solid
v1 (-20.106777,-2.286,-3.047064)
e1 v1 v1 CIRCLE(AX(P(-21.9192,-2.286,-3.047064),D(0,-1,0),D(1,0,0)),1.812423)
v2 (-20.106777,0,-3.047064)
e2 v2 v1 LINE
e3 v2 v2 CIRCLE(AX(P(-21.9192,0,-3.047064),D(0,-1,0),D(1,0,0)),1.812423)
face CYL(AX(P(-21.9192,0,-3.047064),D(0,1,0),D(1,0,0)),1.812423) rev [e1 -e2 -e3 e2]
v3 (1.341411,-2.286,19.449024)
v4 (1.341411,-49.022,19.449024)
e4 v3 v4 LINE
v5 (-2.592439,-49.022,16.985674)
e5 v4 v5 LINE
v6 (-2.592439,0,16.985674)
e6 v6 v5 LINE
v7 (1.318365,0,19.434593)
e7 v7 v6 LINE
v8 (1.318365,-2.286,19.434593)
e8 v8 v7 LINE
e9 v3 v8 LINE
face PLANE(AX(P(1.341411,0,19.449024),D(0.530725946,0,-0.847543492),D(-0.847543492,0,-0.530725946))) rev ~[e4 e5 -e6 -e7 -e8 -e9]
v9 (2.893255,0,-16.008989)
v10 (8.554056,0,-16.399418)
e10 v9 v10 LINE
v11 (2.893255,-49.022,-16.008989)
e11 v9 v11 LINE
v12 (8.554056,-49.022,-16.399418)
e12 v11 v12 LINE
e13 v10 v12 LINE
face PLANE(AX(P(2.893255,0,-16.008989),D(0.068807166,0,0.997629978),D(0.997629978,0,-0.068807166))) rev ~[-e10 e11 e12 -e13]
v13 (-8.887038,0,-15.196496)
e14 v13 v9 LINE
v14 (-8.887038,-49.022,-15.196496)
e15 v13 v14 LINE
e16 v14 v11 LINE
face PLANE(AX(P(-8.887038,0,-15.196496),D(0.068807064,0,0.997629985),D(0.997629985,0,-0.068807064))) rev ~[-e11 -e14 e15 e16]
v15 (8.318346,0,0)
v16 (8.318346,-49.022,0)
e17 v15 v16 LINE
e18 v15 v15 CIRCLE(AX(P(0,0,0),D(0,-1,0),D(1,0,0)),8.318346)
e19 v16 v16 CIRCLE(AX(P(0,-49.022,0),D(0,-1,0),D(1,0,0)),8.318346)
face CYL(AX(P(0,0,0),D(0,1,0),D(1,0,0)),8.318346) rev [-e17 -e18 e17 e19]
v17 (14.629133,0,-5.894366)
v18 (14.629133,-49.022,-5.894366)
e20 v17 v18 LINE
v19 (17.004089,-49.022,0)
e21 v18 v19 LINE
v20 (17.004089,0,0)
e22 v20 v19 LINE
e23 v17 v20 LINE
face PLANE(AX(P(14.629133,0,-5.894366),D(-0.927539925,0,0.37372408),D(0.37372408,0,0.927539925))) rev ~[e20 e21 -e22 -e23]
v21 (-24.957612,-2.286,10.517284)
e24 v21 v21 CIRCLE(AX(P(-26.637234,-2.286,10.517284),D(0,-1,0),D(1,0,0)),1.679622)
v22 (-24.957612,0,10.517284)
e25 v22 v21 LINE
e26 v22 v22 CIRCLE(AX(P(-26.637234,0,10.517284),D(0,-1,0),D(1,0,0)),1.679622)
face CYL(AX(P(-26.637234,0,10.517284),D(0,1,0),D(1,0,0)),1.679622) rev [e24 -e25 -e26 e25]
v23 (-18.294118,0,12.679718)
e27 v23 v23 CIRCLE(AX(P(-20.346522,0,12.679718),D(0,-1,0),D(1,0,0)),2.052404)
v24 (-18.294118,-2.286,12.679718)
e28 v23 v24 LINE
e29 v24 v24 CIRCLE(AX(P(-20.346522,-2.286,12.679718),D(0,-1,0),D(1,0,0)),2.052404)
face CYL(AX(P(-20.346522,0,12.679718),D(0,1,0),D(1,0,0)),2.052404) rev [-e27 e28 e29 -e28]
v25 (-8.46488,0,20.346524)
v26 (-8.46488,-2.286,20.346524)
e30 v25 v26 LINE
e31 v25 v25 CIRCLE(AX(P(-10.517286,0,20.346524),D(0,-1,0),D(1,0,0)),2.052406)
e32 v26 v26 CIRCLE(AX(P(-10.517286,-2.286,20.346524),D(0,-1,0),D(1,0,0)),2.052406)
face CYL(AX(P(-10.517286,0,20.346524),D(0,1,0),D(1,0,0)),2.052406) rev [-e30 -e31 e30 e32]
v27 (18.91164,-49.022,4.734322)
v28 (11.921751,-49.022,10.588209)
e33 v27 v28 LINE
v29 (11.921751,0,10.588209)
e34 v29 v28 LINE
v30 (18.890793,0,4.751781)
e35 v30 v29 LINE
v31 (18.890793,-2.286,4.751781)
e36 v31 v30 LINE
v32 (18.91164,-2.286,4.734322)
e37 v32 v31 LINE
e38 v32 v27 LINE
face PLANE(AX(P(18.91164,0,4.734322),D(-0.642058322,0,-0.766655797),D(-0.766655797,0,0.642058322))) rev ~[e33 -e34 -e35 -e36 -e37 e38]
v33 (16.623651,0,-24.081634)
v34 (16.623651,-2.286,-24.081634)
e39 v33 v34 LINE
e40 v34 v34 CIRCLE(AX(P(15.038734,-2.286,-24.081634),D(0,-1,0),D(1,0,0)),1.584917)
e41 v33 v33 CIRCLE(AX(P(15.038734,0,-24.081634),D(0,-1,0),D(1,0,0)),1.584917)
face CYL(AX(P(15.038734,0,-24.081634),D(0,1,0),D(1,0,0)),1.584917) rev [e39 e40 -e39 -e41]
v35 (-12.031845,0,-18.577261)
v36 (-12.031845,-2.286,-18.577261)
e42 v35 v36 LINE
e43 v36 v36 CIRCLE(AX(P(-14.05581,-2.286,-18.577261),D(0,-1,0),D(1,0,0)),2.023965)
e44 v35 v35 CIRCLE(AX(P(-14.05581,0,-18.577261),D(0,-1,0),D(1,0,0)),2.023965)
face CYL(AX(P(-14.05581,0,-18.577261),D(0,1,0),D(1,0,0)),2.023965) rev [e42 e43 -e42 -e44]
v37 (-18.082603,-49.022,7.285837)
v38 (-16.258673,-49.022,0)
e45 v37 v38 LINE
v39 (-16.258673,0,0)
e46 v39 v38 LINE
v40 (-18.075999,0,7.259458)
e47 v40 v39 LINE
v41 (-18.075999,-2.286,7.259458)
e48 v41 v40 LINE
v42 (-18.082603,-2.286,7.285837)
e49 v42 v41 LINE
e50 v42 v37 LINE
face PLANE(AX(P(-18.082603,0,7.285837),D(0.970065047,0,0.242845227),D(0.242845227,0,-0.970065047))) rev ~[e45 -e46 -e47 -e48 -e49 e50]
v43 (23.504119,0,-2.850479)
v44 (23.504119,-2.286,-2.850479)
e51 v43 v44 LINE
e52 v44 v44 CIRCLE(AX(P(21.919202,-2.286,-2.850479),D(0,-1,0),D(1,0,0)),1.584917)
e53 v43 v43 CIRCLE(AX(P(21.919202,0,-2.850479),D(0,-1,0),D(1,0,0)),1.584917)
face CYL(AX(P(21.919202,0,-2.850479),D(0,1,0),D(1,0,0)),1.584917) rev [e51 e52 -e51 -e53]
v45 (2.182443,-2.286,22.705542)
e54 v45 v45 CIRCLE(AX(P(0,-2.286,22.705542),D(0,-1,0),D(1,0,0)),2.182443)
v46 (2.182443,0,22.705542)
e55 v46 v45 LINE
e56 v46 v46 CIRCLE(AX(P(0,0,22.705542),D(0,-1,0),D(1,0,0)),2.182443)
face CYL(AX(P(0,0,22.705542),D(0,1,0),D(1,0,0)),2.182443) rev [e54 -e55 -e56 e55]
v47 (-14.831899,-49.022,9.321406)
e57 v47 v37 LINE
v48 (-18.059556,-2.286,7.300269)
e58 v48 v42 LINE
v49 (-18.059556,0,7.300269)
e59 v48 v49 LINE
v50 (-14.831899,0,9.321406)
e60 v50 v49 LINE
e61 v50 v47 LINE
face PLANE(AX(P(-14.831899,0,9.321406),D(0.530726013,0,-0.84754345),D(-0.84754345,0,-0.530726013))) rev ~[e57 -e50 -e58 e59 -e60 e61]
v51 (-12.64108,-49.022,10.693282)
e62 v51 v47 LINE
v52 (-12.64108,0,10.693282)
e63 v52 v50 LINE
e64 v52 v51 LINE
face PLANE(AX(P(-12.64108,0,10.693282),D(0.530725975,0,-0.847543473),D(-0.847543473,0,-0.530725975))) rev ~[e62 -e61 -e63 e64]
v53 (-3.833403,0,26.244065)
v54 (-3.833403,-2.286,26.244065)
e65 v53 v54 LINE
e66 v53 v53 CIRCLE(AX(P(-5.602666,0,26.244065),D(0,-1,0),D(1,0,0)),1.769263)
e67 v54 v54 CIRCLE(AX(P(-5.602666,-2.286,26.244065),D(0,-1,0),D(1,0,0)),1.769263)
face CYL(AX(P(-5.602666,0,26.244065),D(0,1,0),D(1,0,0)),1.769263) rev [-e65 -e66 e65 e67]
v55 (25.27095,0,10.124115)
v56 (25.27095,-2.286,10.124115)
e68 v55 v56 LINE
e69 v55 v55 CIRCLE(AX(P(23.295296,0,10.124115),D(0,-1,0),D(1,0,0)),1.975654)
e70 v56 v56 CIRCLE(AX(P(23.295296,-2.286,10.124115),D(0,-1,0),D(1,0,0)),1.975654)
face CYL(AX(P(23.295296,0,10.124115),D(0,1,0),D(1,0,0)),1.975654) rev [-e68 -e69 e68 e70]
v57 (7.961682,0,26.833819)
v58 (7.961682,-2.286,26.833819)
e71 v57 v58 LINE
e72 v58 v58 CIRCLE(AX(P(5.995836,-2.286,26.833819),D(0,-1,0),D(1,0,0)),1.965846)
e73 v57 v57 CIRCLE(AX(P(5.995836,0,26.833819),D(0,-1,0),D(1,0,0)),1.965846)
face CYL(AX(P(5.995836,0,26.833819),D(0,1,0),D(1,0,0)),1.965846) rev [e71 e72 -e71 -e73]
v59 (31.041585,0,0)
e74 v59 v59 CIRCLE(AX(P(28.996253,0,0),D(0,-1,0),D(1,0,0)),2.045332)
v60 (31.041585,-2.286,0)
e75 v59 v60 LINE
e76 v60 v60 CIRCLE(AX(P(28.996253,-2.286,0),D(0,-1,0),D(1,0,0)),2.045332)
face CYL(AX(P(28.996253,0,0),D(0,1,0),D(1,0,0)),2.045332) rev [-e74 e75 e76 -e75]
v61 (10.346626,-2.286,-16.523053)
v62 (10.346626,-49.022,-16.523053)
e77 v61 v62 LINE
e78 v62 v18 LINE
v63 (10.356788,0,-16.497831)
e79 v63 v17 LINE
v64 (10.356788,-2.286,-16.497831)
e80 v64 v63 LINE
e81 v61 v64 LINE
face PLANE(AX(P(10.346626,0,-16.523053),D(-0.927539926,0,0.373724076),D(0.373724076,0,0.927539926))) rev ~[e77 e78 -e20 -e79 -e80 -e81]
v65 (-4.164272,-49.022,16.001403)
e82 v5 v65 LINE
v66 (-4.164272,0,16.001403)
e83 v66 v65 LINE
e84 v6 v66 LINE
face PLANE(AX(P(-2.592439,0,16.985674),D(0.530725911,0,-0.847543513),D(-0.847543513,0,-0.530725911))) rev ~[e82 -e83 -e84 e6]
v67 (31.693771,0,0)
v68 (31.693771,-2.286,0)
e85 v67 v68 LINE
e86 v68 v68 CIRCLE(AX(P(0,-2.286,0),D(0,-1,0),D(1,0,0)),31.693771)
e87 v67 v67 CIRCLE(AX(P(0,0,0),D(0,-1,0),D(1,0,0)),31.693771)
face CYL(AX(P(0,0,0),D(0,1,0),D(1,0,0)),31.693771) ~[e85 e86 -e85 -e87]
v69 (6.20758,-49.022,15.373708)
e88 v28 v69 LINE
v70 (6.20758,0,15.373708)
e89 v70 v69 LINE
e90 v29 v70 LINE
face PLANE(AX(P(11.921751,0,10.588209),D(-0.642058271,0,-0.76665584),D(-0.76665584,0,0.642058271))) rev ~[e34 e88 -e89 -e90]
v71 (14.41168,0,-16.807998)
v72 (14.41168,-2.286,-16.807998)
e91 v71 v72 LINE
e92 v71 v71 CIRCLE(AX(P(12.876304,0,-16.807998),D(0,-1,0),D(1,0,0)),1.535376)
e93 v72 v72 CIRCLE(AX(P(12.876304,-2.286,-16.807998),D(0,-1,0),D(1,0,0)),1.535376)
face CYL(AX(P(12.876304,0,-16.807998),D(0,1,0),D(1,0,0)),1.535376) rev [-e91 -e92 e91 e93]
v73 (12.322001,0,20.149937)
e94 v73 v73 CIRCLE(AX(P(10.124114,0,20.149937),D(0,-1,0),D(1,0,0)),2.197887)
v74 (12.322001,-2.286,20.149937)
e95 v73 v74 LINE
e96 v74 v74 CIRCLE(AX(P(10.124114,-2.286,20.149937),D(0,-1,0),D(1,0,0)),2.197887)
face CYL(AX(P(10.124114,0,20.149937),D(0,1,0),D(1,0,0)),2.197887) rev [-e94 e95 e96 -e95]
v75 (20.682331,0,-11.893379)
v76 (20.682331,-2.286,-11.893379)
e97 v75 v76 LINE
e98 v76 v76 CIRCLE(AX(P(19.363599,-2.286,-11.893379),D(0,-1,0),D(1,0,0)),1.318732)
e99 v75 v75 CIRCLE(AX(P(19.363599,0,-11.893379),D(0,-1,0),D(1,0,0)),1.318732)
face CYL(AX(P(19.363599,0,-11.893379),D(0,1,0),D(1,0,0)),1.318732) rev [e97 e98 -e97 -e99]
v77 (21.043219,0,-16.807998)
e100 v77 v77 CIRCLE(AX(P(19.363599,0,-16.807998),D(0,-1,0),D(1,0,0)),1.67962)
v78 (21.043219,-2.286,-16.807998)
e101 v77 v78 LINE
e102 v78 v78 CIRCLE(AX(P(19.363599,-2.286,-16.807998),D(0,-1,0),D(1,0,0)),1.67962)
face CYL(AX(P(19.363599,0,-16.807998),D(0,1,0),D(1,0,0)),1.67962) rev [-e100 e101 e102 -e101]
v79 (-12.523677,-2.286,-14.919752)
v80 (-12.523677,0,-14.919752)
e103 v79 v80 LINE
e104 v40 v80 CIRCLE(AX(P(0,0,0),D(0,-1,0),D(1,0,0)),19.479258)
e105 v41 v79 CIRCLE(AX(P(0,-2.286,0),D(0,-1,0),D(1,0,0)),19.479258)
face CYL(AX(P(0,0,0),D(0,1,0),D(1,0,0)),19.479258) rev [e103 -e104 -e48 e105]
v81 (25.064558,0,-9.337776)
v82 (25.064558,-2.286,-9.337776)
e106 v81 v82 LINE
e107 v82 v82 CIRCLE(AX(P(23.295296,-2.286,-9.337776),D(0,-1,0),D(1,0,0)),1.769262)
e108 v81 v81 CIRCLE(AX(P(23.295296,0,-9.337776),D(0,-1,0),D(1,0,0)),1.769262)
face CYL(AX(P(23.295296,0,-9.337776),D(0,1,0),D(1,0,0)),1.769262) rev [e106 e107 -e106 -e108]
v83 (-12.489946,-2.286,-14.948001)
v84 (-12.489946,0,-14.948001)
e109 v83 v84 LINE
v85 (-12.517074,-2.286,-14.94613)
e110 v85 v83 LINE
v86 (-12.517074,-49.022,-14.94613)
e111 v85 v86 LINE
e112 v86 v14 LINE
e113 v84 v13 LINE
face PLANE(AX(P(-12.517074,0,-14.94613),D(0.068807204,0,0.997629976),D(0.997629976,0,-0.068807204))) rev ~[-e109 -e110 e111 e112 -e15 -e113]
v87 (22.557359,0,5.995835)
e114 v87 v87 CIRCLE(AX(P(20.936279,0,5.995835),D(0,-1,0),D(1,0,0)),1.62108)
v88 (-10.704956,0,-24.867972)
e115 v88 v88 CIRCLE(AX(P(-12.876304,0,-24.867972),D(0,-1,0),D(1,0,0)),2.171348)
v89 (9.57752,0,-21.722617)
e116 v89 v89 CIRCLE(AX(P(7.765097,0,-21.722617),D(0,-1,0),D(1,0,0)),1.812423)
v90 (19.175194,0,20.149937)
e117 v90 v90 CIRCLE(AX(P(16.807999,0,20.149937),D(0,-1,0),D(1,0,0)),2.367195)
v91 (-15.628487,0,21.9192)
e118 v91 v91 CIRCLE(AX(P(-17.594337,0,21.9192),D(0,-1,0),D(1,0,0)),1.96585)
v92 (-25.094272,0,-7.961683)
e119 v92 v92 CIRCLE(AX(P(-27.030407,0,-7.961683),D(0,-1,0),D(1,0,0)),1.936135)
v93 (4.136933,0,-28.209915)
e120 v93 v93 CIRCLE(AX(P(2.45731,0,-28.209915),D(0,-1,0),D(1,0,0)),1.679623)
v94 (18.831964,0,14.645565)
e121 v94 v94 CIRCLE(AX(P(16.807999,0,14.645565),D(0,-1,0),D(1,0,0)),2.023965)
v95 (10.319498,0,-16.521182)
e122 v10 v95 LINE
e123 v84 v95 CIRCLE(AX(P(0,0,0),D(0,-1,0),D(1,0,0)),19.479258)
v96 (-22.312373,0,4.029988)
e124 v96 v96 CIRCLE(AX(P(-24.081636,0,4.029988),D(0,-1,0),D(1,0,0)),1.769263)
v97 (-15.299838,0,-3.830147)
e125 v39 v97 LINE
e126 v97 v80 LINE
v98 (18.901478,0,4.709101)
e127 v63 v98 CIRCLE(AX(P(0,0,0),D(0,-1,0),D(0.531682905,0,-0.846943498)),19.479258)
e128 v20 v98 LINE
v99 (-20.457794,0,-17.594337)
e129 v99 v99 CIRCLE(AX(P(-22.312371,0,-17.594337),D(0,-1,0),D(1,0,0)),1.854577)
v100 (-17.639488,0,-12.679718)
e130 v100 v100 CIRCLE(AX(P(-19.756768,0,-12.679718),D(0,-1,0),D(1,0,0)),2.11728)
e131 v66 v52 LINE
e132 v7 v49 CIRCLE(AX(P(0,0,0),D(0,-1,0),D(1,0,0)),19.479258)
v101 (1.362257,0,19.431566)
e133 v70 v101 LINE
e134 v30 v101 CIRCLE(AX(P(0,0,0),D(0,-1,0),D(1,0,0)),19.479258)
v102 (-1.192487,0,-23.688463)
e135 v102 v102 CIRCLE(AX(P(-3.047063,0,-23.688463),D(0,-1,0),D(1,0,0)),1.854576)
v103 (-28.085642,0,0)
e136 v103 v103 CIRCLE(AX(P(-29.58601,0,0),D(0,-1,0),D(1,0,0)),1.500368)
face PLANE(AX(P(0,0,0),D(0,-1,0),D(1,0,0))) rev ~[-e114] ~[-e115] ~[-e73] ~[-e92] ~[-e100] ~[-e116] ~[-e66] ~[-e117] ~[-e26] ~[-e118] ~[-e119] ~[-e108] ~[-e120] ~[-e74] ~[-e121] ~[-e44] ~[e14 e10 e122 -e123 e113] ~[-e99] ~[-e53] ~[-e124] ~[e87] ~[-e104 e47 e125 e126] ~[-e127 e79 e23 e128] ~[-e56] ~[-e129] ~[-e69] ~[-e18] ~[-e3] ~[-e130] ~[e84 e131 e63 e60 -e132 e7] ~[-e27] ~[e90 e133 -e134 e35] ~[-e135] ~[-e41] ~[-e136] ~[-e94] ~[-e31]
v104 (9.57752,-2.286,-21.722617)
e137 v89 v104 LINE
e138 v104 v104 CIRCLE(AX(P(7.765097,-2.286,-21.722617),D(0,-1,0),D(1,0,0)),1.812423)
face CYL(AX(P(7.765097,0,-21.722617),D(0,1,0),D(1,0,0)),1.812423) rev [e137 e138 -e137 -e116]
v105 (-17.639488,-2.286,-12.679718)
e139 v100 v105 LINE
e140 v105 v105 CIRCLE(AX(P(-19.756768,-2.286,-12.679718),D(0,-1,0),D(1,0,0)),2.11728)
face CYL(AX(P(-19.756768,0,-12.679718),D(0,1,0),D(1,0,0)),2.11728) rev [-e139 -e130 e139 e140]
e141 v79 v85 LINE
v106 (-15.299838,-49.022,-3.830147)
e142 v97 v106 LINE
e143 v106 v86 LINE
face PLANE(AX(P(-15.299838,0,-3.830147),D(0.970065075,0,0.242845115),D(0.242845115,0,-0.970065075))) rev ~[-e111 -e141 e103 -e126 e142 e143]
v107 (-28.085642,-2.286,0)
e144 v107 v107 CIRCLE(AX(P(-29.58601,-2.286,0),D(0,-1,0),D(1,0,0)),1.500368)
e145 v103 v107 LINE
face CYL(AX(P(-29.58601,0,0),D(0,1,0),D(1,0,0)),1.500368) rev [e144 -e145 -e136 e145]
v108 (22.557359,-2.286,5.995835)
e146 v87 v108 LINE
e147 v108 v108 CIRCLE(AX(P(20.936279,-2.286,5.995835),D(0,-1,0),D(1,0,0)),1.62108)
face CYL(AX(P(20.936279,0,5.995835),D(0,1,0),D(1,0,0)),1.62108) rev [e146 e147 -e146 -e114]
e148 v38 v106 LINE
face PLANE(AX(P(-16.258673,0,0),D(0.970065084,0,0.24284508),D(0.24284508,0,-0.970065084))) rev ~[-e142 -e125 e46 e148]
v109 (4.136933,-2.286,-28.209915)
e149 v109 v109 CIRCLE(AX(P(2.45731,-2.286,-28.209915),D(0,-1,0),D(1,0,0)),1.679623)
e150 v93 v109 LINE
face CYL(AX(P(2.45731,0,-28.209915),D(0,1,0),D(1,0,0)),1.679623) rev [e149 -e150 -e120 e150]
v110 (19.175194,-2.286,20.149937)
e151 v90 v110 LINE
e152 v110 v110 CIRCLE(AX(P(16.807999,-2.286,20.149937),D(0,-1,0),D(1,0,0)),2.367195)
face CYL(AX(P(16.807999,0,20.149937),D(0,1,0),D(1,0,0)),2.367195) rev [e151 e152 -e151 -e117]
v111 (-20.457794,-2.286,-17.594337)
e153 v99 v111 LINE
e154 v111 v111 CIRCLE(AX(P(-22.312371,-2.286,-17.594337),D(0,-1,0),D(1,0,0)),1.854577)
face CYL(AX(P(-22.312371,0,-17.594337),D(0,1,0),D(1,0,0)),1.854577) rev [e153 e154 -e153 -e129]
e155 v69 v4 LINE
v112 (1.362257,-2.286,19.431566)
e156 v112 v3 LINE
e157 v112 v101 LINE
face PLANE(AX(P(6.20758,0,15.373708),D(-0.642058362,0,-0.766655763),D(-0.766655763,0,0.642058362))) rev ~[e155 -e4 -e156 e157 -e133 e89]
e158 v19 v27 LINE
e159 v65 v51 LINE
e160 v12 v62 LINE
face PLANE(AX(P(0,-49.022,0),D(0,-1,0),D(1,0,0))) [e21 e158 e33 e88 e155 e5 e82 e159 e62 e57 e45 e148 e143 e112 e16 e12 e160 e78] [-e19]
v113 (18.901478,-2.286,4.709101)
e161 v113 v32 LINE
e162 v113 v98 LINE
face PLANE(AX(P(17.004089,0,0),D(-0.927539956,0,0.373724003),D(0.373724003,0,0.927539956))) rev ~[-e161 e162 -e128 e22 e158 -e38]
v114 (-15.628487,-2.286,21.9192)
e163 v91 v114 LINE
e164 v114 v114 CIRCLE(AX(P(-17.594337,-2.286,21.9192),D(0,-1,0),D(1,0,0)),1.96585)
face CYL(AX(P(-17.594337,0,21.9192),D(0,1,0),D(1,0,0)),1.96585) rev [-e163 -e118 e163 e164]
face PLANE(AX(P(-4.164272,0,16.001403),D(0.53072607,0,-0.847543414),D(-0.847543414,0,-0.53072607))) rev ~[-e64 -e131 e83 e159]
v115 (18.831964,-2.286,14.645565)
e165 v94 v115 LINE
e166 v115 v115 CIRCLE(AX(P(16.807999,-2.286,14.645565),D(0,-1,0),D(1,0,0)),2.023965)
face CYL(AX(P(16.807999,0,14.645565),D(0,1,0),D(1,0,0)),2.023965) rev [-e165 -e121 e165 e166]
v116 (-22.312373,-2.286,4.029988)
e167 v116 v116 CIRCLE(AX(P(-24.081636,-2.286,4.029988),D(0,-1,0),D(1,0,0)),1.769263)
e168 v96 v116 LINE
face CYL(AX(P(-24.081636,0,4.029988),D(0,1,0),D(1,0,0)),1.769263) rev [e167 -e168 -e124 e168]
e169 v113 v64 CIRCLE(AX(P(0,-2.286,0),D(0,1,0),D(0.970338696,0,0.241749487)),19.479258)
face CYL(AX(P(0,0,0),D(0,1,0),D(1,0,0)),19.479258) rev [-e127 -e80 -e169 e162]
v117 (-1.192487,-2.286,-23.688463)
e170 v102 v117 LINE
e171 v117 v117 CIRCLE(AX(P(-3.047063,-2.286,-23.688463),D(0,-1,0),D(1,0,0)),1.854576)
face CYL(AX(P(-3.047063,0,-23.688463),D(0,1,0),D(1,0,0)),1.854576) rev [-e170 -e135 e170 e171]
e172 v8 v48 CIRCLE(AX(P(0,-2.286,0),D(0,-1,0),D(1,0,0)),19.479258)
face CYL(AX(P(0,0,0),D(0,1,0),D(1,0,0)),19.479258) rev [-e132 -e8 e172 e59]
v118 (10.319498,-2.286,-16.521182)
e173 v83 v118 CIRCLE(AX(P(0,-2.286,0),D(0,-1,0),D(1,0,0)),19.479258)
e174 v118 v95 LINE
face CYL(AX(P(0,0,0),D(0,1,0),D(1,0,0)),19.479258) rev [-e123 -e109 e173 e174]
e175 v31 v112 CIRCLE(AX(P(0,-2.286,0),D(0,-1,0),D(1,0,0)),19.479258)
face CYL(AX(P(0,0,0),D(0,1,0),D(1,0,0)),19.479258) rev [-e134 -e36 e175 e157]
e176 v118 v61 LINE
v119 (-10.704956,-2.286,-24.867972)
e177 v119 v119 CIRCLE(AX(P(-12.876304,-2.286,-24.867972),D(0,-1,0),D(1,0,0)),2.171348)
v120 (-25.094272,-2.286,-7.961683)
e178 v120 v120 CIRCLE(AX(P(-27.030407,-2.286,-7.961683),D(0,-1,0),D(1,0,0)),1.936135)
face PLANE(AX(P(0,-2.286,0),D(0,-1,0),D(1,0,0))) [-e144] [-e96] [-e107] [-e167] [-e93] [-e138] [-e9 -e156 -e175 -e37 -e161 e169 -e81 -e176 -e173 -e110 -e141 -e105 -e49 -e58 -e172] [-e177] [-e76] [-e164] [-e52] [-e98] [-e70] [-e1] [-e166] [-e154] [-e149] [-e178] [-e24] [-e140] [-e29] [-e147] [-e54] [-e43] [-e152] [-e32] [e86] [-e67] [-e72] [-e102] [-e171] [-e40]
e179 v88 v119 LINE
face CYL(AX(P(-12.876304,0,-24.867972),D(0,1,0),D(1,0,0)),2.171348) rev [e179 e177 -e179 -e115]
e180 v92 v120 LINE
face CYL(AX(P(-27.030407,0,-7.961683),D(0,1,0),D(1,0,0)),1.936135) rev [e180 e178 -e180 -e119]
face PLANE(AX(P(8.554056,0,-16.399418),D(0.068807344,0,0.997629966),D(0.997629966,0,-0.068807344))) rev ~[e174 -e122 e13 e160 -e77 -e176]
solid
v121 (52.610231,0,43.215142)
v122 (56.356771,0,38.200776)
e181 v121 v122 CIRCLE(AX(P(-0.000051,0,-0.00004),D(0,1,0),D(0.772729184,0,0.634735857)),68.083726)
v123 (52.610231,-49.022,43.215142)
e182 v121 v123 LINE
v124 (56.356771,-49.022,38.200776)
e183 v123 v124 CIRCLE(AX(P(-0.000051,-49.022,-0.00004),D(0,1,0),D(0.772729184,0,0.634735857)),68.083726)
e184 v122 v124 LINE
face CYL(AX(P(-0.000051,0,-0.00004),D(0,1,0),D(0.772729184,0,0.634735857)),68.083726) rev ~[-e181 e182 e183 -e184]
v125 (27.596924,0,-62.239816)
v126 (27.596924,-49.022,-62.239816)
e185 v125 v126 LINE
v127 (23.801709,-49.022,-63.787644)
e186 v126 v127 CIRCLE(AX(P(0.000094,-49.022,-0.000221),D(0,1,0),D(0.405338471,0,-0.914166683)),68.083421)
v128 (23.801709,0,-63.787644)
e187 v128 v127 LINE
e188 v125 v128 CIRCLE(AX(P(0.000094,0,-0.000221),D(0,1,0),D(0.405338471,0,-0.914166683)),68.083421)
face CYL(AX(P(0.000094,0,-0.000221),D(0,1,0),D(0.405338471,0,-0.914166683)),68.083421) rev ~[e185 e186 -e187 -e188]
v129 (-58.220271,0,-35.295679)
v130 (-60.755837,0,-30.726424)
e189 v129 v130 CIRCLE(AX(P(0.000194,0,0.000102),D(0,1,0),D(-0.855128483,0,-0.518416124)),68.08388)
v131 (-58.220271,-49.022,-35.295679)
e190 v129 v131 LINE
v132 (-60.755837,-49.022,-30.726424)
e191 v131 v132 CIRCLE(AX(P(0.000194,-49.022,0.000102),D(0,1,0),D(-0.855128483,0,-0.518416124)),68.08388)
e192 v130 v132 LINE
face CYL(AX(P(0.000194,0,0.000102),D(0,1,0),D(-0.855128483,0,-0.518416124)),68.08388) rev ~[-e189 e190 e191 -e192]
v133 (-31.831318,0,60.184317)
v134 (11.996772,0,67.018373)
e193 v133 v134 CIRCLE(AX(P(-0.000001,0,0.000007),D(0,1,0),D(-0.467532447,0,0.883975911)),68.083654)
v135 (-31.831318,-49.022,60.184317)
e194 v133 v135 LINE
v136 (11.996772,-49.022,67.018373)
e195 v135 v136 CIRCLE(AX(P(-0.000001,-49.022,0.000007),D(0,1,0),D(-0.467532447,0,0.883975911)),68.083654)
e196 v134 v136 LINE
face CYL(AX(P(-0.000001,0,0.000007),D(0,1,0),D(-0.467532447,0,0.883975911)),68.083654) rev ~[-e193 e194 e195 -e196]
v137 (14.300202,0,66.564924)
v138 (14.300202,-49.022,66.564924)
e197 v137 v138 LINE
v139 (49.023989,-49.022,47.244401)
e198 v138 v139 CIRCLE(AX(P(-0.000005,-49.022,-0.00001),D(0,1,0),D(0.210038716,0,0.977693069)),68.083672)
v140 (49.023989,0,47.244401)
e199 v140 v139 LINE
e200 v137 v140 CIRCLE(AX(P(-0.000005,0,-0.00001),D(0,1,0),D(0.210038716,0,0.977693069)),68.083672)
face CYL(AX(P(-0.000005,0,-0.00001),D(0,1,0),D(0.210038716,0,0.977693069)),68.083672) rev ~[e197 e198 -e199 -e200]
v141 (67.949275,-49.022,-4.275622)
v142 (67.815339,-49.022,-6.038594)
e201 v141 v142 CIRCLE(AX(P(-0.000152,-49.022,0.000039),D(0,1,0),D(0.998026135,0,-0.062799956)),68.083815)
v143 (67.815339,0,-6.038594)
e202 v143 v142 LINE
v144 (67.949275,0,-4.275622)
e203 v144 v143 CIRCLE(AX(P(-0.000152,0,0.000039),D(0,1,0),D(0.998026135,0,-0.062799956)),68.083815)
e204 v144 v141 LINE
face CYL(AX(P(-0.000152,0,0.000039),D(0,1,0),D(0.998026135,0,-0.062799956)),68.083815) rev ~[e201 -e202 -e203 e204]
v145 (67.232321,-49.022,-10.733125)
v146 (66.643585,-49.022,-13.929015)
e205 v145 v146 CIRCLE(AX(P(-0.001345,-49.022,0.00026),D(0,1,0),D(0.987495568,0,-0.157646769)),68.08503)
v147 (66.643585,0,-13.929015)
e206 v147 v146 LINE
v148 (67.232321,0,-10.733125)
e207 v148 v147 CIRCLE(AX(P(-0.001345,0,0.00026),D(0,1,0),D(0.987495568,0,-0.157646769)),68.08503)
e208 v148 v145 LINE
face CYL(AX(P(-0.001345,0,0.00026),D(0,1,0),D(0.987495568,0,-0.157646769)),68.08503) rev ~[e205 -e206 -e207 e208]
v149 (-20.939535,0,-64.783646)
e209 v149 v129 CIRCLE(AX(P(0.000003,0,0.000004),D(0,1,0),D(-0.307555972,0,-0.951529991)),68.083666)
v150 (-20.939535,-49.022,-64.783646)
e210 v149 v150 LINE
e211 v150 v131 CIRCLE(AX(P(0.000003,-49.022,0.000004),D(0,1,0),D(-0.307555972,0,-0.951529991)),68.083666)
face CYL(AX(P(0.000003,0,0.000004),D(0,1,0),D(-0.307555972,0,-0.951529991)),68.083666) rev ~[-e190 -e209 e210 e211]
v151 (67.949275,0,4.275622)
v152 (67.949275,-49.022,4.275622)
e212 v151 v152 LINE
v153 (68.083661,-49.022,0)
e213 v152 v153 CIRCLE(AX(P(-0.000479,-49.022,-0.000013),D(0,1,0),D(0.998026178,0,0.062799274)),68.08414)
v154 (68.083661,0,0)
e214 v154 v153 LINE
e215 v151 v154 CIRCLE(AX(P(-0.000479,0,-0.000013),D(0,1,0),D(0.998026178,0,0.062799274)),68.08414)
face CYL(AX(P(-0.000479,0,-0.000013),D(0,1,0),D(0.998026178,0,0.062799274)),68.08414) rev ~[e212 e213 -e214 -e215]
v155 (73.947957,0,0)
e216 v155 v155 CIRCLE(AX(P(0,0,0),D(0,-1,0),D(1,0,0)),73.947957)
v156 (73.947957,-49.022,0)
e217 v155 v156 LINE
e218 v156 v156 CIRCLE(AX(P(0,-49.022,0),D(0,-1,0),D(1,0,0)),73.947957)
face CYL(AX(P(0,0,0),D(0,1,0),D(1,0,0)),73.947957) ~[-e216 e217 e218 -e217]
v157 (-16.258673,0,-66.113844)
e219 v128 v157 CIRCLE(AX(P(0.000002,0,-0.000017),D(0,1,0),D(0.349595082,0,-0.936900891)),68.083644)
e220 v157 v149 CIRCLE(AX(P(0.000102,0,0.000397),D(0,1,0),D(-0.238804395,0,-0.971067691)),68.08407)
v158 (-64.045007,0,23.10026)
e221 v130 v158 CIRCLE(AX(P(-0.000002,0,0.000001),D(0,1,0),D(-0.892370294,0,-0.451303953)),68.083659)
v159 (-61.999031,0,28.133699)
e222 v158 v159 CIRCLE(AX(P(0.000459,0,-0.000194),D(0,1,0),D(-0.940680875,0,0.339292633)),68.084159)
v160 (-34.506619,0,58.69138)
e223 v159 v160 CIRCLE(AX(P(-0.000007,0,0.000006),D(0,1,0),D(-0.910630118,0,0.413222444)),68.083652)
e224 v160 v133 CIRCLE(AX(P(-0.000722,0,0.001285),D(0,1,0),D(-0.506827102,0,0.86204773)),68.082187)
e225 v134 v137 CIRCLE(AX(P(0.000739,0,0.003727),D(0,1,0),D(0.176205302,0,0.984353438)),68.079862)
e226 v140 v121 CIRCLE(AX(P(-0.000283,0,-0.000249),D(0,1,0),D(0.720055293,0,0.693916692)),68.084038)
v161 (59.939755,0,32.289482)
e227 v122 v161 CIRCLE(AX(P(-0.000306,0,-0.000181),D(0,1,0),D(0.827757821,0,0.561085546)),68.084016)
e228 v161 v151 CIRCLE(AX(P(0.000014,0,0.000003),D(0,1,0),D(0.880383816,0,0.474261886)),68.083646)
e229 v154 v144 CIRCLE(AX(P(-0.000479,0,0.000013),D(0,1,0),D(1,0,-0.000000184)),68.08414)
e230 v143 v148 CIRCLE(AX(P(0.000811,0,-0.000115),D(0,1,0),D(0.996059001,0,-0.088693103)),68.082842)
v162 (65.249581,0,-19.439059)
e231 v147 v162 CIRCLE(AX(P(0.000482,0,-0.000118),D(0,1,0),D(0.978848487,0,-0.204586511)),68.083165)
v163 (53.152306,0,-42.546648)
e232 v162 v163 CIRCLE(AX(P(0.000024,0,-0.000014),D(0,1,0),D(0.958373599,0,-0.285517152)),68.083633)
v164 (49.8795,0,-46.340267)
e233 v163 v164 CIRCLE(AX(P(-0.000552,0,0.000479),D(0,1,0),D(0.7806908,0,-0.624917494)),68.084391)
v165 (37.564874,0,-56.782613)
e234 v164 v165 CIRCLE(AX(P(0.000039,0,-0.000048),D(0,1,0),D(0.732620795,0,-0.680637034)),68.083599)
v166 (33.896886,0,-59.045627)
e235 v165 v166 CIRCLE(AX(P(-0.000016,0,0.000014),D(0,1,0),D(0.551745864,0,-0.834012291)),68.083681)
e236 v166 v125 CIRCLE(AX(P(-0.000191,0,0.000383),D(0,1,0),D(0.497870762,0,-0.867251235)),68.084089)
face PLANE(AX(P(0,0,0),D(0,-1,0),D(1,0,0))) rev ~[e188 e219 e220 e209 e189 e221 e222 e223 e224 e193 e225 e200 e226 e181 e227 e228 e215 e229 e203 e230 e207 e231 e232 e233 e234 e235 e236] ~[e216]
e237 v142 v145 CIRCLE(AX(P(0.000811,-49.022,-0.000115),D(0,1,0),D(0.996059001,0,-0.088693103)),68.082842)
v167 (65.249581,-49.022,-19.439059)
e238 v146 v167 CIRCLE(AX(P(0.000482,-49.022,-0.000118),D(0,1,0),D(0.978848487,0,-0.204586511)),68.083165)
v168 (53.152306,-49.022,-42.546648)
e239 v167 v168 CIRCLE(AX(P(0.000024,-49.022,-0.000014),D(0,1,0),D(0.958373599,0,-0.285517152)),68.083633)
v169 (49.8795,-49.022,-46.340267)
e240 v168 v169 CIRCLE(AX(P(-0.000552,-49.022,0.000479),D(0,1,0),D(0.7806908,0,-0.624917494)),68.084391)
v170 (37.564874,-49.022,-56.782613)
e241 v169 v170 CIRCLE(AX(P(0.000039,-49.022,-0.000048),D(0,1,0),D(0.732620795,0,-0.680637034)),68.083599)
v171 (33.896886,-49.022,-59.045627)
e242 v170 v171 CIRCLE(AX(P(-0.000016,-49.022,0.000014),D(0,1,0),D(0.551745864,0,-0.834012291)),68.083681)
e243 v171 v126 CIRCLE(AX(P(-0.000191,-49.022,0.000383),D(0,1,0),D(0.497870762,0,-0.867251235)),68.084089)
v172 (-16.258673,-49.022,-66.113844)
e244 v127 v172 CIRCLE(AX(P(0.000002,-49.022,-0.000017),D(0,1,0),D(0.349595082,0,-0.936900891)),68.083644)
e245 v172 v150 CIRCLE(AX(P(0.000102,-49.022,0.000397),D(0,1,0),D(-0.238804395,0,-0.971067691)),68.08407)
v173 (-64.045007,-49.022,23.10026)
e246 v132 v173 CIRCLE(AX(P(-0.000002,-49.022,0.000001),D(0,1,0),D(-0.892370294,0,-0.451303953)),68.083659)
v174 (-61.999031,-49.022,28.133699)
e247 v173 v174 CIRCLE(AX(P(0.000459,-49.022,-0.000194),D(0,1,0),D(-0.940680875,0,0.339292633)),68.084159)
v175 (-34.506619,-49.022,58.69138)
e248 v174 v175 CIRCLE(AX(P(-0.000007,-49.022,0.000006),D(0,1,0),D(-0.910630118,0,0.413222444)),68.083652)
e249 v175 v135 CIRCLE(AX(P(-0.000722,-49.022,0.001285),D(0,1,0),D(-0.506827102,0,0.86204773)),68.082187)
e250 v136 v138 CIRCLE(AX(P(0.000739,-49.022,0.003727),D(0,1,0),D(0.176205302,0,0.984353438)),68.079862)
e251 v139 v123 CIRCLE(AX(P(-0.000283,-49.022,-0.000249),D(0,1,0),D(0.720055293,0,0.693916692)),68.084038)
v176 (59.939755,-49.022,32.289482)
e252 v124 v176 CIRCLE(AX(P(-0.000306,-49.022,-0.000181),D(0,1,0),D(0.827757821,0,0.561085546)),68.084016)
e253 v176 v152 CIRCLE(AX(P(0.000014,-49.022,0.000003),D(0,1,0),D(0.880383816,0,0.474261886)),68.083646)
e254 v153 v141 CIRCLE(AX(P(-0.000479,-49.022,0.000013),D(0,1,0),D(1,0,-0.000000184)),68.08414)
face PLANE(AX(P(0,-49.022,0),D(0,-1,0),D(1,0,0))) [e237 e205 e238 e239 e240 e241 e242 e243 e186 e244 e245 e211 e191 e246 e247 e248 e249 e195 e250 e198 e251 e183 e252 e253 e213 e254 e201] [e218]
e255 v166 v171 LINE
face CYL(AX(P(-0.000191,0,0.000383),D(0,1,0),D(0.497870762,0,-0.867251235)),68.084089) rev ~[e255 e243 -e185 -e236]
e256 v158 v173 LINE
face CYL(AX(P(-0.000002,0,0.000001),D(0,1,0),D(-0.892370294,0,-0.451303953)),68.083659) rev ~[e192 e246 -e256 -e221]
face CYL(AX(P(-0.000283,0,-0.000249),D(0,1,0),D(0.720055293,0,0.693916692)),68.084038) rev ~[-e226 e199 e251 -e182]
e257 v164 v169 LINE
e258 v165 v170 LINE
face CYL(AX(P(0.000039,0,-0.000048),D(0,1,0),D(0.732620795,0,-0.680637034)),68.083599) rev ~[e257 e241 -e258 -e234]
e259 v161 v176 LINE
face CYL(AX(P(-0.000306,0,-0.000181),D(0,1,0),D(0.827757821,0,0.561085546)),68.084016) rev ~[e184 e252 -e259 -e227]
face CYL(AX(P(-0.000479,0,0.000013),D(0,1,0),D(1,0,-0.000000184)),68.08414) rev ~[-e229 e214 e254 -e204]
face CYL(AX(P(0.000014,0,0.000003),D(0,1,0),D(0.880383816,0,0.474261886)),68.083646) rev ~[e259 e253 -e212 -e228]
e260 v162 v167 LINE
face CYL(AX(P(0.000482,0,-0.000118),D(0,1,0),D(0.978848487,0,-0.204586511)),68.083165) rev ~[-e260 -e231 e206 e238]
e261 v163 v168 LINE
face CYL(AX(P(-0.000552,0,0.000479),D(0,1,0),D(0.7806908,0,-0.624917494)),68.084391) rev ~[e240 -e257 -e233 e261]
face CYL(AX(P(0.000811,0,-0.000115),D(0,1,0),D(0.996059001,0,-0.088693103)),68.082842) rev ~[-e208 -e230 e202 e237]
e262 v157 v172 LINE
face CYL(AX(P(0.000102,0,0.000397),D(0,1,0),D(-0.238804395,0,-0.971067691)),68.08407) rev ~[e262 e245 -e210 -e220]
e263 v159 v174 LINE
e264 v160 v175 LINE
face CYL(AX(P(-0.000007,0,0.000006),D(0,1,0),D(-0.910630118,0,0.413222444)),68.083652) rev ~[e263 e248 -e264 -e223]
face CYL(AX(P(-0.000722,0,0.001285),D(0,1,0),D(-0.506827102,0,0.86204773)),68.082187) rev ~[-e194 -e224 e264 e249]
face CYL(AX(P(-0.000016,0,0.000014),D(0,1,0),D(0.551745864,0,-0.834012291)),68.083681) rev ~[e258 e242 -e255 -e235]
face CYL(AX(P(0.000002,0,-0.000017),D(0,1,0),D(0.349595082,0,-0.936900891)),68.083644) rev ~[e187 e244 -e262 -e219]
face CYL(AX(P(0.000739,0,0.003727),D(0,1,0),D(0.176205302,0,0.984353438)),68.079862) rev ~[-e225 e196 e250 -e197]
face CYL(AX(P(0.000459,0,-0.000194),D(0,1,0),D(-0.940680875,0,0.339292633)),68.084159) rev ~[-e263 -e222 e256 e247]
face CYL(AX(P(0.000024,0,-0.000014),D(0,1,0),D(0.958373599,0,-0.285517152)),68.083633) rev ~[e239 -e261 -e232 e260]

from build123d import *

# Parameters (mm, degrees)
F0_R     = 73.947957
F0_R_2   = 8.318346
F1_DEPTH = 49.022
F2_R     = 31.693771
F2_R_2   = 1.854577
F2_R_3   = 2.171348
F2_R_4   = 2.023965
F2_R_5   = 1.854576
F2_R_6   = 1.936135
F2_R_7   = 2.11728
F2_R_8   = 1.812423
F2_R_9   = 1.679623
F2_R_10  = 1.584917
F2_R_11  = 1.535376
F2_R_12  = 1.67962
F2_R_13  = 1.318732
F2_R_14  = 1.769262
F2_R_15  = 1.500368
F2_R_16  = 1.769263
F2_R_17  = 1.679622
F2_R_18  = 2.052404
F2_R_19  = 1.96585
F2_R_20  = 2.052406
F2_R_21  = 19.479258
F2_R_22  = 1.62108
F2_R_23  = 2.045332
F2_R_24  = 1.975654
F2_R_25  = 2.182443
F2_R_26  = 2.197887
F2_R_27  = 1.965846
F2_R_28  = 2.367195
F3_DEPTH = 2.286


with BuildPart() as f1:
    # F0 (on Front) → F1 (new body)
    with BuildSketch(Plane.XZ):
        Circle(F0_R)
        with BuildLine():
            ThreePointArc((67.949275, 4.275622), (68.050056, 2.138867), (68.083661, 0))
            ThreePointArc((68.083661, 0), (68.050056, -2.138867), (67.949275, -4.275622))
            ThreePointArc((67.949275, -4.275622), (67.88803, -5.157543), (67.815339, -6.038594))
            ThreePointArc((67.815339, -6.038594), (67.564616, -8.390925), (67.232321, -10.733125))
            ThreePointArc((67.232321, -10.733125), (66.957023, -12.334583), (66.643585, -13.929015))
            ThreePointArc((66.643585, -13.929015), (66.004106, -16.69859), (65.249581, -19.439059))
            ThreePointArc((65.249581, -19.439059), (60.317841, -31.577571), (53.152306, -42.546648))
            ThreePointArc((53.152306, -42.546648), (51.550811, -44.473573), (49.8795, -46.340267))
            ThreePointArc((49.8795, -46.340267), (44.032832, -51.927783), (37.564874, -56.782613))
            ThreePointArc((37.564874, -56.782613), (35.748791, -57.943152), (33.896886, -59.045627))
            ThreePointArc((33.896886, -59.045627), (30.788356, -60.724476), (27.596924, -62.239816))
            ThreePointArc((27.596924, -62.239816), (25.710967, -63.042296), (23.801709, -63.787644))
            ThreePointArc((23.801709, -63.787644), (3.94679, -67.969168), (-16.258673, -66.113844))
            ThreePointArc((-16.258673, -66.113844), (-18.610992, -65.490578), (-20.939535, -64.783646))
            ThreePointArc((-20.939535, -64.783646), (-42.236877, -53.398793), (-58.220271, -35.295679))
            ThreePointArc((-58.220271, -35.295679), (-59.531908, -33.035387), (-60.755837, -30.726424))
            ThreePointArc((-60.755837, -30.726424), (-67.956903, -4.15262), (-64.045007, 23.10026))
            ThreePointArc((-64.045007, 23.10026), (-63.07225, 25.637397), (-61.999031, 28.133699))
            ThreePointArc((-61.999031, 28.133699), (-50.614011, 45.536873), (-34.506619, 58.69138))
            ThreePointArc((-34.506619, 58.69138), (-33.177367, 59.452899), (-31.831318, 60.184317))
            ThreePointArc((-31.831318, 60.184317), (-10.489442, 67.27077), (11.996772, 67.018373))
            ThreePointArc((11.996772, 67.018373), (13.150442, 66.801578), (14.300202, 66.564924))
            ThreePointArc((14.300202, 66.564924), (33.103005, 59.494335), (49.023989, 47.244401))
            ThreePointArc((49.023989, 47.244401), (50.857029, 45.265301), (52.610231, 43.215142))
            ThreePointArc((52.610231, 43.215142), (54.541157, 40.751038), (56.356771, 38.200776))
            ThreePointArc((56.356771, 38.200776), (58.223331, 35.29063), (59.939755, 32.289482))
            ThreePointArc((59.939755, 32.289482), (65.460638, 18.716031), (67.949275, 4.275622))
        make_face(mode=Mode.SUBTRACT)
        Polygon((14.629133, -5.894366), (17.004089, 0), (18.91164, 4.734322), (11.921751, 10.588209), (6.20758, 15.373708), (1.341411, 19.449024), (-2.592439, 16.985674), (-4.164272, 16.001403), (-12.64108, 10.693282), (-14.831899, 9.321406), (-18.082603, 7.285837), (-16.258673, 0), (-15.299838, -3.830147), (-12.517074, -14.94613), (-8.887038, -15.196496), (2.893255, -16.008989), (8.554056, -16.399418), (10.346626, -16.523053), align=None)
        Circle(F0_R_2, mode=Mode.SUBTRACT)
    extrude(amount=F1_DEPTH)

    # F2 (on Front) → F3 (join)
    with BuildSketch(Plane.XZ):
        Circle(F2_R)
        with Locations((-22.312371, -17.594337)):
            Circle(F2_R_2, mode=Mode.SUBTRACT)
        with Locations((-12.876304, -24.867972)):
            Circle(F2_R_3, mode=Mode.SUBTRACT)
        with Locations((-14.05581, -18.577261)):
            Circle(F2_R_4, mode=Mode.SUBTRACT)
        with Locations((-3.047063, -23.688463)):
            Circle(F2_R_5, mode=Mode.SUBTRACT)
        with Locations((-27.030407, -7.961683)):
            Circle(F2_R_6, mode=Mode.SUBTRACT)
        with Locations((-19.756768, -12.679718)):
            Circle(F2_R_7, mode=Mode.SUBTRACT)
        with Locations((-21.9192, -3.047064)):
            Circle(F2_R_8, mode=Mode.SUBTRACT)
        with Locations((2.45731, -28.209915)):
            Circle(F2_R_9, mode=Mode.SUBTRACT)
        with Locations((15.038734, -24.081634)):
            Circle(F2_R_10, mode=Mode.SUBTRACT)
        with Locations((7.765097, -21.722617)):
            Circle(F2_R_8, mode=Mode.SUBTRACT)
        with Locations((12.876304, -16.807998)):
            Circle(F2_R_11, mode=Mode.SUBTRACT)
        with Locations((19.363599, -16.807998)):
            Circle(F2_R_12, mode=Mode.SUBTRACT)
        with Locations((19.363599, -11.893379)):
            Circle(F2_R_13, mode=Mode.SUBTRACT)
        with Locations((23.295296, -9.337776)):
            Circle(F2_R_14, mode=Mode.SUBTRACT)
        with Locations((21.919202, -2.850479)):
            Circle(F2_R_10, mode=Mode.SUBTRACT)
        with Locations((-29.58601, 0)):
            Circle(F2_R_15, mode=Mode.SUBTRACT)
        with Locations((-24.081636, 4.029988)):
            Circle(F2_R_16, mode=Mode.SUBTRACT)
        with Locations((-26.637234, 10.517284)):
            Circle(F2_R_17, mode=Mode.SUBTRACT)
        with Locations((-20.346522, 12.679718)):
            Circle(F2_R_18, mode=Mode.SUBTRACT)
        with Locations((-17.594337, 21.9192)):
            Circle(F2_R_19, mode=Mode.SUBTRACT)
        with Locations((-10.517286, 20.346524)):
            Circle(F2_R_20, mode=Mode.SUBTRACT)
        with Locations((-5.602666, 26.244065)):
            Circle(F2_R_16, mode=Mode.SUBTRACT)
        Circle(F2_R_21, mode=Mode.SUBTRACT)
        with Locations((20.936279, 5.995835)):
            Circle(F2_R_22, mode=Mode.SUBTRACT)
        with Locations((28.996253, 0)):
            Circle(F2_R_23, mode=Mode.SUBTRACT)
        with Locations((23.295296, 10.124115)):
            Circle(F2_R_24, mode=Mode.SUBTRACT)
        with Locations((16.807999, 14.645565)):
            Circle(F2_R_4, mode=Mode.SUBTRACT)
        with Locations((0, 22.705542)):
            Circle(F2_R_25, mode=Mode.SUBTRACT)
        with Locations((10.124114, 20.149937)):
            Circle(F2_R_26, mode=Mode.SUBTRACT)
        with Locations((5.995836, 26.833819)):
            Circle(F2_R_27, mode=Mode.SUBTRACT)
        with Locations((16.807999, 20.149937)):
            Circle(F2_R_28, mode=Mode.SUBTRACT)
    extrude(amount=F3_DEPTH)


solid = f1.part
